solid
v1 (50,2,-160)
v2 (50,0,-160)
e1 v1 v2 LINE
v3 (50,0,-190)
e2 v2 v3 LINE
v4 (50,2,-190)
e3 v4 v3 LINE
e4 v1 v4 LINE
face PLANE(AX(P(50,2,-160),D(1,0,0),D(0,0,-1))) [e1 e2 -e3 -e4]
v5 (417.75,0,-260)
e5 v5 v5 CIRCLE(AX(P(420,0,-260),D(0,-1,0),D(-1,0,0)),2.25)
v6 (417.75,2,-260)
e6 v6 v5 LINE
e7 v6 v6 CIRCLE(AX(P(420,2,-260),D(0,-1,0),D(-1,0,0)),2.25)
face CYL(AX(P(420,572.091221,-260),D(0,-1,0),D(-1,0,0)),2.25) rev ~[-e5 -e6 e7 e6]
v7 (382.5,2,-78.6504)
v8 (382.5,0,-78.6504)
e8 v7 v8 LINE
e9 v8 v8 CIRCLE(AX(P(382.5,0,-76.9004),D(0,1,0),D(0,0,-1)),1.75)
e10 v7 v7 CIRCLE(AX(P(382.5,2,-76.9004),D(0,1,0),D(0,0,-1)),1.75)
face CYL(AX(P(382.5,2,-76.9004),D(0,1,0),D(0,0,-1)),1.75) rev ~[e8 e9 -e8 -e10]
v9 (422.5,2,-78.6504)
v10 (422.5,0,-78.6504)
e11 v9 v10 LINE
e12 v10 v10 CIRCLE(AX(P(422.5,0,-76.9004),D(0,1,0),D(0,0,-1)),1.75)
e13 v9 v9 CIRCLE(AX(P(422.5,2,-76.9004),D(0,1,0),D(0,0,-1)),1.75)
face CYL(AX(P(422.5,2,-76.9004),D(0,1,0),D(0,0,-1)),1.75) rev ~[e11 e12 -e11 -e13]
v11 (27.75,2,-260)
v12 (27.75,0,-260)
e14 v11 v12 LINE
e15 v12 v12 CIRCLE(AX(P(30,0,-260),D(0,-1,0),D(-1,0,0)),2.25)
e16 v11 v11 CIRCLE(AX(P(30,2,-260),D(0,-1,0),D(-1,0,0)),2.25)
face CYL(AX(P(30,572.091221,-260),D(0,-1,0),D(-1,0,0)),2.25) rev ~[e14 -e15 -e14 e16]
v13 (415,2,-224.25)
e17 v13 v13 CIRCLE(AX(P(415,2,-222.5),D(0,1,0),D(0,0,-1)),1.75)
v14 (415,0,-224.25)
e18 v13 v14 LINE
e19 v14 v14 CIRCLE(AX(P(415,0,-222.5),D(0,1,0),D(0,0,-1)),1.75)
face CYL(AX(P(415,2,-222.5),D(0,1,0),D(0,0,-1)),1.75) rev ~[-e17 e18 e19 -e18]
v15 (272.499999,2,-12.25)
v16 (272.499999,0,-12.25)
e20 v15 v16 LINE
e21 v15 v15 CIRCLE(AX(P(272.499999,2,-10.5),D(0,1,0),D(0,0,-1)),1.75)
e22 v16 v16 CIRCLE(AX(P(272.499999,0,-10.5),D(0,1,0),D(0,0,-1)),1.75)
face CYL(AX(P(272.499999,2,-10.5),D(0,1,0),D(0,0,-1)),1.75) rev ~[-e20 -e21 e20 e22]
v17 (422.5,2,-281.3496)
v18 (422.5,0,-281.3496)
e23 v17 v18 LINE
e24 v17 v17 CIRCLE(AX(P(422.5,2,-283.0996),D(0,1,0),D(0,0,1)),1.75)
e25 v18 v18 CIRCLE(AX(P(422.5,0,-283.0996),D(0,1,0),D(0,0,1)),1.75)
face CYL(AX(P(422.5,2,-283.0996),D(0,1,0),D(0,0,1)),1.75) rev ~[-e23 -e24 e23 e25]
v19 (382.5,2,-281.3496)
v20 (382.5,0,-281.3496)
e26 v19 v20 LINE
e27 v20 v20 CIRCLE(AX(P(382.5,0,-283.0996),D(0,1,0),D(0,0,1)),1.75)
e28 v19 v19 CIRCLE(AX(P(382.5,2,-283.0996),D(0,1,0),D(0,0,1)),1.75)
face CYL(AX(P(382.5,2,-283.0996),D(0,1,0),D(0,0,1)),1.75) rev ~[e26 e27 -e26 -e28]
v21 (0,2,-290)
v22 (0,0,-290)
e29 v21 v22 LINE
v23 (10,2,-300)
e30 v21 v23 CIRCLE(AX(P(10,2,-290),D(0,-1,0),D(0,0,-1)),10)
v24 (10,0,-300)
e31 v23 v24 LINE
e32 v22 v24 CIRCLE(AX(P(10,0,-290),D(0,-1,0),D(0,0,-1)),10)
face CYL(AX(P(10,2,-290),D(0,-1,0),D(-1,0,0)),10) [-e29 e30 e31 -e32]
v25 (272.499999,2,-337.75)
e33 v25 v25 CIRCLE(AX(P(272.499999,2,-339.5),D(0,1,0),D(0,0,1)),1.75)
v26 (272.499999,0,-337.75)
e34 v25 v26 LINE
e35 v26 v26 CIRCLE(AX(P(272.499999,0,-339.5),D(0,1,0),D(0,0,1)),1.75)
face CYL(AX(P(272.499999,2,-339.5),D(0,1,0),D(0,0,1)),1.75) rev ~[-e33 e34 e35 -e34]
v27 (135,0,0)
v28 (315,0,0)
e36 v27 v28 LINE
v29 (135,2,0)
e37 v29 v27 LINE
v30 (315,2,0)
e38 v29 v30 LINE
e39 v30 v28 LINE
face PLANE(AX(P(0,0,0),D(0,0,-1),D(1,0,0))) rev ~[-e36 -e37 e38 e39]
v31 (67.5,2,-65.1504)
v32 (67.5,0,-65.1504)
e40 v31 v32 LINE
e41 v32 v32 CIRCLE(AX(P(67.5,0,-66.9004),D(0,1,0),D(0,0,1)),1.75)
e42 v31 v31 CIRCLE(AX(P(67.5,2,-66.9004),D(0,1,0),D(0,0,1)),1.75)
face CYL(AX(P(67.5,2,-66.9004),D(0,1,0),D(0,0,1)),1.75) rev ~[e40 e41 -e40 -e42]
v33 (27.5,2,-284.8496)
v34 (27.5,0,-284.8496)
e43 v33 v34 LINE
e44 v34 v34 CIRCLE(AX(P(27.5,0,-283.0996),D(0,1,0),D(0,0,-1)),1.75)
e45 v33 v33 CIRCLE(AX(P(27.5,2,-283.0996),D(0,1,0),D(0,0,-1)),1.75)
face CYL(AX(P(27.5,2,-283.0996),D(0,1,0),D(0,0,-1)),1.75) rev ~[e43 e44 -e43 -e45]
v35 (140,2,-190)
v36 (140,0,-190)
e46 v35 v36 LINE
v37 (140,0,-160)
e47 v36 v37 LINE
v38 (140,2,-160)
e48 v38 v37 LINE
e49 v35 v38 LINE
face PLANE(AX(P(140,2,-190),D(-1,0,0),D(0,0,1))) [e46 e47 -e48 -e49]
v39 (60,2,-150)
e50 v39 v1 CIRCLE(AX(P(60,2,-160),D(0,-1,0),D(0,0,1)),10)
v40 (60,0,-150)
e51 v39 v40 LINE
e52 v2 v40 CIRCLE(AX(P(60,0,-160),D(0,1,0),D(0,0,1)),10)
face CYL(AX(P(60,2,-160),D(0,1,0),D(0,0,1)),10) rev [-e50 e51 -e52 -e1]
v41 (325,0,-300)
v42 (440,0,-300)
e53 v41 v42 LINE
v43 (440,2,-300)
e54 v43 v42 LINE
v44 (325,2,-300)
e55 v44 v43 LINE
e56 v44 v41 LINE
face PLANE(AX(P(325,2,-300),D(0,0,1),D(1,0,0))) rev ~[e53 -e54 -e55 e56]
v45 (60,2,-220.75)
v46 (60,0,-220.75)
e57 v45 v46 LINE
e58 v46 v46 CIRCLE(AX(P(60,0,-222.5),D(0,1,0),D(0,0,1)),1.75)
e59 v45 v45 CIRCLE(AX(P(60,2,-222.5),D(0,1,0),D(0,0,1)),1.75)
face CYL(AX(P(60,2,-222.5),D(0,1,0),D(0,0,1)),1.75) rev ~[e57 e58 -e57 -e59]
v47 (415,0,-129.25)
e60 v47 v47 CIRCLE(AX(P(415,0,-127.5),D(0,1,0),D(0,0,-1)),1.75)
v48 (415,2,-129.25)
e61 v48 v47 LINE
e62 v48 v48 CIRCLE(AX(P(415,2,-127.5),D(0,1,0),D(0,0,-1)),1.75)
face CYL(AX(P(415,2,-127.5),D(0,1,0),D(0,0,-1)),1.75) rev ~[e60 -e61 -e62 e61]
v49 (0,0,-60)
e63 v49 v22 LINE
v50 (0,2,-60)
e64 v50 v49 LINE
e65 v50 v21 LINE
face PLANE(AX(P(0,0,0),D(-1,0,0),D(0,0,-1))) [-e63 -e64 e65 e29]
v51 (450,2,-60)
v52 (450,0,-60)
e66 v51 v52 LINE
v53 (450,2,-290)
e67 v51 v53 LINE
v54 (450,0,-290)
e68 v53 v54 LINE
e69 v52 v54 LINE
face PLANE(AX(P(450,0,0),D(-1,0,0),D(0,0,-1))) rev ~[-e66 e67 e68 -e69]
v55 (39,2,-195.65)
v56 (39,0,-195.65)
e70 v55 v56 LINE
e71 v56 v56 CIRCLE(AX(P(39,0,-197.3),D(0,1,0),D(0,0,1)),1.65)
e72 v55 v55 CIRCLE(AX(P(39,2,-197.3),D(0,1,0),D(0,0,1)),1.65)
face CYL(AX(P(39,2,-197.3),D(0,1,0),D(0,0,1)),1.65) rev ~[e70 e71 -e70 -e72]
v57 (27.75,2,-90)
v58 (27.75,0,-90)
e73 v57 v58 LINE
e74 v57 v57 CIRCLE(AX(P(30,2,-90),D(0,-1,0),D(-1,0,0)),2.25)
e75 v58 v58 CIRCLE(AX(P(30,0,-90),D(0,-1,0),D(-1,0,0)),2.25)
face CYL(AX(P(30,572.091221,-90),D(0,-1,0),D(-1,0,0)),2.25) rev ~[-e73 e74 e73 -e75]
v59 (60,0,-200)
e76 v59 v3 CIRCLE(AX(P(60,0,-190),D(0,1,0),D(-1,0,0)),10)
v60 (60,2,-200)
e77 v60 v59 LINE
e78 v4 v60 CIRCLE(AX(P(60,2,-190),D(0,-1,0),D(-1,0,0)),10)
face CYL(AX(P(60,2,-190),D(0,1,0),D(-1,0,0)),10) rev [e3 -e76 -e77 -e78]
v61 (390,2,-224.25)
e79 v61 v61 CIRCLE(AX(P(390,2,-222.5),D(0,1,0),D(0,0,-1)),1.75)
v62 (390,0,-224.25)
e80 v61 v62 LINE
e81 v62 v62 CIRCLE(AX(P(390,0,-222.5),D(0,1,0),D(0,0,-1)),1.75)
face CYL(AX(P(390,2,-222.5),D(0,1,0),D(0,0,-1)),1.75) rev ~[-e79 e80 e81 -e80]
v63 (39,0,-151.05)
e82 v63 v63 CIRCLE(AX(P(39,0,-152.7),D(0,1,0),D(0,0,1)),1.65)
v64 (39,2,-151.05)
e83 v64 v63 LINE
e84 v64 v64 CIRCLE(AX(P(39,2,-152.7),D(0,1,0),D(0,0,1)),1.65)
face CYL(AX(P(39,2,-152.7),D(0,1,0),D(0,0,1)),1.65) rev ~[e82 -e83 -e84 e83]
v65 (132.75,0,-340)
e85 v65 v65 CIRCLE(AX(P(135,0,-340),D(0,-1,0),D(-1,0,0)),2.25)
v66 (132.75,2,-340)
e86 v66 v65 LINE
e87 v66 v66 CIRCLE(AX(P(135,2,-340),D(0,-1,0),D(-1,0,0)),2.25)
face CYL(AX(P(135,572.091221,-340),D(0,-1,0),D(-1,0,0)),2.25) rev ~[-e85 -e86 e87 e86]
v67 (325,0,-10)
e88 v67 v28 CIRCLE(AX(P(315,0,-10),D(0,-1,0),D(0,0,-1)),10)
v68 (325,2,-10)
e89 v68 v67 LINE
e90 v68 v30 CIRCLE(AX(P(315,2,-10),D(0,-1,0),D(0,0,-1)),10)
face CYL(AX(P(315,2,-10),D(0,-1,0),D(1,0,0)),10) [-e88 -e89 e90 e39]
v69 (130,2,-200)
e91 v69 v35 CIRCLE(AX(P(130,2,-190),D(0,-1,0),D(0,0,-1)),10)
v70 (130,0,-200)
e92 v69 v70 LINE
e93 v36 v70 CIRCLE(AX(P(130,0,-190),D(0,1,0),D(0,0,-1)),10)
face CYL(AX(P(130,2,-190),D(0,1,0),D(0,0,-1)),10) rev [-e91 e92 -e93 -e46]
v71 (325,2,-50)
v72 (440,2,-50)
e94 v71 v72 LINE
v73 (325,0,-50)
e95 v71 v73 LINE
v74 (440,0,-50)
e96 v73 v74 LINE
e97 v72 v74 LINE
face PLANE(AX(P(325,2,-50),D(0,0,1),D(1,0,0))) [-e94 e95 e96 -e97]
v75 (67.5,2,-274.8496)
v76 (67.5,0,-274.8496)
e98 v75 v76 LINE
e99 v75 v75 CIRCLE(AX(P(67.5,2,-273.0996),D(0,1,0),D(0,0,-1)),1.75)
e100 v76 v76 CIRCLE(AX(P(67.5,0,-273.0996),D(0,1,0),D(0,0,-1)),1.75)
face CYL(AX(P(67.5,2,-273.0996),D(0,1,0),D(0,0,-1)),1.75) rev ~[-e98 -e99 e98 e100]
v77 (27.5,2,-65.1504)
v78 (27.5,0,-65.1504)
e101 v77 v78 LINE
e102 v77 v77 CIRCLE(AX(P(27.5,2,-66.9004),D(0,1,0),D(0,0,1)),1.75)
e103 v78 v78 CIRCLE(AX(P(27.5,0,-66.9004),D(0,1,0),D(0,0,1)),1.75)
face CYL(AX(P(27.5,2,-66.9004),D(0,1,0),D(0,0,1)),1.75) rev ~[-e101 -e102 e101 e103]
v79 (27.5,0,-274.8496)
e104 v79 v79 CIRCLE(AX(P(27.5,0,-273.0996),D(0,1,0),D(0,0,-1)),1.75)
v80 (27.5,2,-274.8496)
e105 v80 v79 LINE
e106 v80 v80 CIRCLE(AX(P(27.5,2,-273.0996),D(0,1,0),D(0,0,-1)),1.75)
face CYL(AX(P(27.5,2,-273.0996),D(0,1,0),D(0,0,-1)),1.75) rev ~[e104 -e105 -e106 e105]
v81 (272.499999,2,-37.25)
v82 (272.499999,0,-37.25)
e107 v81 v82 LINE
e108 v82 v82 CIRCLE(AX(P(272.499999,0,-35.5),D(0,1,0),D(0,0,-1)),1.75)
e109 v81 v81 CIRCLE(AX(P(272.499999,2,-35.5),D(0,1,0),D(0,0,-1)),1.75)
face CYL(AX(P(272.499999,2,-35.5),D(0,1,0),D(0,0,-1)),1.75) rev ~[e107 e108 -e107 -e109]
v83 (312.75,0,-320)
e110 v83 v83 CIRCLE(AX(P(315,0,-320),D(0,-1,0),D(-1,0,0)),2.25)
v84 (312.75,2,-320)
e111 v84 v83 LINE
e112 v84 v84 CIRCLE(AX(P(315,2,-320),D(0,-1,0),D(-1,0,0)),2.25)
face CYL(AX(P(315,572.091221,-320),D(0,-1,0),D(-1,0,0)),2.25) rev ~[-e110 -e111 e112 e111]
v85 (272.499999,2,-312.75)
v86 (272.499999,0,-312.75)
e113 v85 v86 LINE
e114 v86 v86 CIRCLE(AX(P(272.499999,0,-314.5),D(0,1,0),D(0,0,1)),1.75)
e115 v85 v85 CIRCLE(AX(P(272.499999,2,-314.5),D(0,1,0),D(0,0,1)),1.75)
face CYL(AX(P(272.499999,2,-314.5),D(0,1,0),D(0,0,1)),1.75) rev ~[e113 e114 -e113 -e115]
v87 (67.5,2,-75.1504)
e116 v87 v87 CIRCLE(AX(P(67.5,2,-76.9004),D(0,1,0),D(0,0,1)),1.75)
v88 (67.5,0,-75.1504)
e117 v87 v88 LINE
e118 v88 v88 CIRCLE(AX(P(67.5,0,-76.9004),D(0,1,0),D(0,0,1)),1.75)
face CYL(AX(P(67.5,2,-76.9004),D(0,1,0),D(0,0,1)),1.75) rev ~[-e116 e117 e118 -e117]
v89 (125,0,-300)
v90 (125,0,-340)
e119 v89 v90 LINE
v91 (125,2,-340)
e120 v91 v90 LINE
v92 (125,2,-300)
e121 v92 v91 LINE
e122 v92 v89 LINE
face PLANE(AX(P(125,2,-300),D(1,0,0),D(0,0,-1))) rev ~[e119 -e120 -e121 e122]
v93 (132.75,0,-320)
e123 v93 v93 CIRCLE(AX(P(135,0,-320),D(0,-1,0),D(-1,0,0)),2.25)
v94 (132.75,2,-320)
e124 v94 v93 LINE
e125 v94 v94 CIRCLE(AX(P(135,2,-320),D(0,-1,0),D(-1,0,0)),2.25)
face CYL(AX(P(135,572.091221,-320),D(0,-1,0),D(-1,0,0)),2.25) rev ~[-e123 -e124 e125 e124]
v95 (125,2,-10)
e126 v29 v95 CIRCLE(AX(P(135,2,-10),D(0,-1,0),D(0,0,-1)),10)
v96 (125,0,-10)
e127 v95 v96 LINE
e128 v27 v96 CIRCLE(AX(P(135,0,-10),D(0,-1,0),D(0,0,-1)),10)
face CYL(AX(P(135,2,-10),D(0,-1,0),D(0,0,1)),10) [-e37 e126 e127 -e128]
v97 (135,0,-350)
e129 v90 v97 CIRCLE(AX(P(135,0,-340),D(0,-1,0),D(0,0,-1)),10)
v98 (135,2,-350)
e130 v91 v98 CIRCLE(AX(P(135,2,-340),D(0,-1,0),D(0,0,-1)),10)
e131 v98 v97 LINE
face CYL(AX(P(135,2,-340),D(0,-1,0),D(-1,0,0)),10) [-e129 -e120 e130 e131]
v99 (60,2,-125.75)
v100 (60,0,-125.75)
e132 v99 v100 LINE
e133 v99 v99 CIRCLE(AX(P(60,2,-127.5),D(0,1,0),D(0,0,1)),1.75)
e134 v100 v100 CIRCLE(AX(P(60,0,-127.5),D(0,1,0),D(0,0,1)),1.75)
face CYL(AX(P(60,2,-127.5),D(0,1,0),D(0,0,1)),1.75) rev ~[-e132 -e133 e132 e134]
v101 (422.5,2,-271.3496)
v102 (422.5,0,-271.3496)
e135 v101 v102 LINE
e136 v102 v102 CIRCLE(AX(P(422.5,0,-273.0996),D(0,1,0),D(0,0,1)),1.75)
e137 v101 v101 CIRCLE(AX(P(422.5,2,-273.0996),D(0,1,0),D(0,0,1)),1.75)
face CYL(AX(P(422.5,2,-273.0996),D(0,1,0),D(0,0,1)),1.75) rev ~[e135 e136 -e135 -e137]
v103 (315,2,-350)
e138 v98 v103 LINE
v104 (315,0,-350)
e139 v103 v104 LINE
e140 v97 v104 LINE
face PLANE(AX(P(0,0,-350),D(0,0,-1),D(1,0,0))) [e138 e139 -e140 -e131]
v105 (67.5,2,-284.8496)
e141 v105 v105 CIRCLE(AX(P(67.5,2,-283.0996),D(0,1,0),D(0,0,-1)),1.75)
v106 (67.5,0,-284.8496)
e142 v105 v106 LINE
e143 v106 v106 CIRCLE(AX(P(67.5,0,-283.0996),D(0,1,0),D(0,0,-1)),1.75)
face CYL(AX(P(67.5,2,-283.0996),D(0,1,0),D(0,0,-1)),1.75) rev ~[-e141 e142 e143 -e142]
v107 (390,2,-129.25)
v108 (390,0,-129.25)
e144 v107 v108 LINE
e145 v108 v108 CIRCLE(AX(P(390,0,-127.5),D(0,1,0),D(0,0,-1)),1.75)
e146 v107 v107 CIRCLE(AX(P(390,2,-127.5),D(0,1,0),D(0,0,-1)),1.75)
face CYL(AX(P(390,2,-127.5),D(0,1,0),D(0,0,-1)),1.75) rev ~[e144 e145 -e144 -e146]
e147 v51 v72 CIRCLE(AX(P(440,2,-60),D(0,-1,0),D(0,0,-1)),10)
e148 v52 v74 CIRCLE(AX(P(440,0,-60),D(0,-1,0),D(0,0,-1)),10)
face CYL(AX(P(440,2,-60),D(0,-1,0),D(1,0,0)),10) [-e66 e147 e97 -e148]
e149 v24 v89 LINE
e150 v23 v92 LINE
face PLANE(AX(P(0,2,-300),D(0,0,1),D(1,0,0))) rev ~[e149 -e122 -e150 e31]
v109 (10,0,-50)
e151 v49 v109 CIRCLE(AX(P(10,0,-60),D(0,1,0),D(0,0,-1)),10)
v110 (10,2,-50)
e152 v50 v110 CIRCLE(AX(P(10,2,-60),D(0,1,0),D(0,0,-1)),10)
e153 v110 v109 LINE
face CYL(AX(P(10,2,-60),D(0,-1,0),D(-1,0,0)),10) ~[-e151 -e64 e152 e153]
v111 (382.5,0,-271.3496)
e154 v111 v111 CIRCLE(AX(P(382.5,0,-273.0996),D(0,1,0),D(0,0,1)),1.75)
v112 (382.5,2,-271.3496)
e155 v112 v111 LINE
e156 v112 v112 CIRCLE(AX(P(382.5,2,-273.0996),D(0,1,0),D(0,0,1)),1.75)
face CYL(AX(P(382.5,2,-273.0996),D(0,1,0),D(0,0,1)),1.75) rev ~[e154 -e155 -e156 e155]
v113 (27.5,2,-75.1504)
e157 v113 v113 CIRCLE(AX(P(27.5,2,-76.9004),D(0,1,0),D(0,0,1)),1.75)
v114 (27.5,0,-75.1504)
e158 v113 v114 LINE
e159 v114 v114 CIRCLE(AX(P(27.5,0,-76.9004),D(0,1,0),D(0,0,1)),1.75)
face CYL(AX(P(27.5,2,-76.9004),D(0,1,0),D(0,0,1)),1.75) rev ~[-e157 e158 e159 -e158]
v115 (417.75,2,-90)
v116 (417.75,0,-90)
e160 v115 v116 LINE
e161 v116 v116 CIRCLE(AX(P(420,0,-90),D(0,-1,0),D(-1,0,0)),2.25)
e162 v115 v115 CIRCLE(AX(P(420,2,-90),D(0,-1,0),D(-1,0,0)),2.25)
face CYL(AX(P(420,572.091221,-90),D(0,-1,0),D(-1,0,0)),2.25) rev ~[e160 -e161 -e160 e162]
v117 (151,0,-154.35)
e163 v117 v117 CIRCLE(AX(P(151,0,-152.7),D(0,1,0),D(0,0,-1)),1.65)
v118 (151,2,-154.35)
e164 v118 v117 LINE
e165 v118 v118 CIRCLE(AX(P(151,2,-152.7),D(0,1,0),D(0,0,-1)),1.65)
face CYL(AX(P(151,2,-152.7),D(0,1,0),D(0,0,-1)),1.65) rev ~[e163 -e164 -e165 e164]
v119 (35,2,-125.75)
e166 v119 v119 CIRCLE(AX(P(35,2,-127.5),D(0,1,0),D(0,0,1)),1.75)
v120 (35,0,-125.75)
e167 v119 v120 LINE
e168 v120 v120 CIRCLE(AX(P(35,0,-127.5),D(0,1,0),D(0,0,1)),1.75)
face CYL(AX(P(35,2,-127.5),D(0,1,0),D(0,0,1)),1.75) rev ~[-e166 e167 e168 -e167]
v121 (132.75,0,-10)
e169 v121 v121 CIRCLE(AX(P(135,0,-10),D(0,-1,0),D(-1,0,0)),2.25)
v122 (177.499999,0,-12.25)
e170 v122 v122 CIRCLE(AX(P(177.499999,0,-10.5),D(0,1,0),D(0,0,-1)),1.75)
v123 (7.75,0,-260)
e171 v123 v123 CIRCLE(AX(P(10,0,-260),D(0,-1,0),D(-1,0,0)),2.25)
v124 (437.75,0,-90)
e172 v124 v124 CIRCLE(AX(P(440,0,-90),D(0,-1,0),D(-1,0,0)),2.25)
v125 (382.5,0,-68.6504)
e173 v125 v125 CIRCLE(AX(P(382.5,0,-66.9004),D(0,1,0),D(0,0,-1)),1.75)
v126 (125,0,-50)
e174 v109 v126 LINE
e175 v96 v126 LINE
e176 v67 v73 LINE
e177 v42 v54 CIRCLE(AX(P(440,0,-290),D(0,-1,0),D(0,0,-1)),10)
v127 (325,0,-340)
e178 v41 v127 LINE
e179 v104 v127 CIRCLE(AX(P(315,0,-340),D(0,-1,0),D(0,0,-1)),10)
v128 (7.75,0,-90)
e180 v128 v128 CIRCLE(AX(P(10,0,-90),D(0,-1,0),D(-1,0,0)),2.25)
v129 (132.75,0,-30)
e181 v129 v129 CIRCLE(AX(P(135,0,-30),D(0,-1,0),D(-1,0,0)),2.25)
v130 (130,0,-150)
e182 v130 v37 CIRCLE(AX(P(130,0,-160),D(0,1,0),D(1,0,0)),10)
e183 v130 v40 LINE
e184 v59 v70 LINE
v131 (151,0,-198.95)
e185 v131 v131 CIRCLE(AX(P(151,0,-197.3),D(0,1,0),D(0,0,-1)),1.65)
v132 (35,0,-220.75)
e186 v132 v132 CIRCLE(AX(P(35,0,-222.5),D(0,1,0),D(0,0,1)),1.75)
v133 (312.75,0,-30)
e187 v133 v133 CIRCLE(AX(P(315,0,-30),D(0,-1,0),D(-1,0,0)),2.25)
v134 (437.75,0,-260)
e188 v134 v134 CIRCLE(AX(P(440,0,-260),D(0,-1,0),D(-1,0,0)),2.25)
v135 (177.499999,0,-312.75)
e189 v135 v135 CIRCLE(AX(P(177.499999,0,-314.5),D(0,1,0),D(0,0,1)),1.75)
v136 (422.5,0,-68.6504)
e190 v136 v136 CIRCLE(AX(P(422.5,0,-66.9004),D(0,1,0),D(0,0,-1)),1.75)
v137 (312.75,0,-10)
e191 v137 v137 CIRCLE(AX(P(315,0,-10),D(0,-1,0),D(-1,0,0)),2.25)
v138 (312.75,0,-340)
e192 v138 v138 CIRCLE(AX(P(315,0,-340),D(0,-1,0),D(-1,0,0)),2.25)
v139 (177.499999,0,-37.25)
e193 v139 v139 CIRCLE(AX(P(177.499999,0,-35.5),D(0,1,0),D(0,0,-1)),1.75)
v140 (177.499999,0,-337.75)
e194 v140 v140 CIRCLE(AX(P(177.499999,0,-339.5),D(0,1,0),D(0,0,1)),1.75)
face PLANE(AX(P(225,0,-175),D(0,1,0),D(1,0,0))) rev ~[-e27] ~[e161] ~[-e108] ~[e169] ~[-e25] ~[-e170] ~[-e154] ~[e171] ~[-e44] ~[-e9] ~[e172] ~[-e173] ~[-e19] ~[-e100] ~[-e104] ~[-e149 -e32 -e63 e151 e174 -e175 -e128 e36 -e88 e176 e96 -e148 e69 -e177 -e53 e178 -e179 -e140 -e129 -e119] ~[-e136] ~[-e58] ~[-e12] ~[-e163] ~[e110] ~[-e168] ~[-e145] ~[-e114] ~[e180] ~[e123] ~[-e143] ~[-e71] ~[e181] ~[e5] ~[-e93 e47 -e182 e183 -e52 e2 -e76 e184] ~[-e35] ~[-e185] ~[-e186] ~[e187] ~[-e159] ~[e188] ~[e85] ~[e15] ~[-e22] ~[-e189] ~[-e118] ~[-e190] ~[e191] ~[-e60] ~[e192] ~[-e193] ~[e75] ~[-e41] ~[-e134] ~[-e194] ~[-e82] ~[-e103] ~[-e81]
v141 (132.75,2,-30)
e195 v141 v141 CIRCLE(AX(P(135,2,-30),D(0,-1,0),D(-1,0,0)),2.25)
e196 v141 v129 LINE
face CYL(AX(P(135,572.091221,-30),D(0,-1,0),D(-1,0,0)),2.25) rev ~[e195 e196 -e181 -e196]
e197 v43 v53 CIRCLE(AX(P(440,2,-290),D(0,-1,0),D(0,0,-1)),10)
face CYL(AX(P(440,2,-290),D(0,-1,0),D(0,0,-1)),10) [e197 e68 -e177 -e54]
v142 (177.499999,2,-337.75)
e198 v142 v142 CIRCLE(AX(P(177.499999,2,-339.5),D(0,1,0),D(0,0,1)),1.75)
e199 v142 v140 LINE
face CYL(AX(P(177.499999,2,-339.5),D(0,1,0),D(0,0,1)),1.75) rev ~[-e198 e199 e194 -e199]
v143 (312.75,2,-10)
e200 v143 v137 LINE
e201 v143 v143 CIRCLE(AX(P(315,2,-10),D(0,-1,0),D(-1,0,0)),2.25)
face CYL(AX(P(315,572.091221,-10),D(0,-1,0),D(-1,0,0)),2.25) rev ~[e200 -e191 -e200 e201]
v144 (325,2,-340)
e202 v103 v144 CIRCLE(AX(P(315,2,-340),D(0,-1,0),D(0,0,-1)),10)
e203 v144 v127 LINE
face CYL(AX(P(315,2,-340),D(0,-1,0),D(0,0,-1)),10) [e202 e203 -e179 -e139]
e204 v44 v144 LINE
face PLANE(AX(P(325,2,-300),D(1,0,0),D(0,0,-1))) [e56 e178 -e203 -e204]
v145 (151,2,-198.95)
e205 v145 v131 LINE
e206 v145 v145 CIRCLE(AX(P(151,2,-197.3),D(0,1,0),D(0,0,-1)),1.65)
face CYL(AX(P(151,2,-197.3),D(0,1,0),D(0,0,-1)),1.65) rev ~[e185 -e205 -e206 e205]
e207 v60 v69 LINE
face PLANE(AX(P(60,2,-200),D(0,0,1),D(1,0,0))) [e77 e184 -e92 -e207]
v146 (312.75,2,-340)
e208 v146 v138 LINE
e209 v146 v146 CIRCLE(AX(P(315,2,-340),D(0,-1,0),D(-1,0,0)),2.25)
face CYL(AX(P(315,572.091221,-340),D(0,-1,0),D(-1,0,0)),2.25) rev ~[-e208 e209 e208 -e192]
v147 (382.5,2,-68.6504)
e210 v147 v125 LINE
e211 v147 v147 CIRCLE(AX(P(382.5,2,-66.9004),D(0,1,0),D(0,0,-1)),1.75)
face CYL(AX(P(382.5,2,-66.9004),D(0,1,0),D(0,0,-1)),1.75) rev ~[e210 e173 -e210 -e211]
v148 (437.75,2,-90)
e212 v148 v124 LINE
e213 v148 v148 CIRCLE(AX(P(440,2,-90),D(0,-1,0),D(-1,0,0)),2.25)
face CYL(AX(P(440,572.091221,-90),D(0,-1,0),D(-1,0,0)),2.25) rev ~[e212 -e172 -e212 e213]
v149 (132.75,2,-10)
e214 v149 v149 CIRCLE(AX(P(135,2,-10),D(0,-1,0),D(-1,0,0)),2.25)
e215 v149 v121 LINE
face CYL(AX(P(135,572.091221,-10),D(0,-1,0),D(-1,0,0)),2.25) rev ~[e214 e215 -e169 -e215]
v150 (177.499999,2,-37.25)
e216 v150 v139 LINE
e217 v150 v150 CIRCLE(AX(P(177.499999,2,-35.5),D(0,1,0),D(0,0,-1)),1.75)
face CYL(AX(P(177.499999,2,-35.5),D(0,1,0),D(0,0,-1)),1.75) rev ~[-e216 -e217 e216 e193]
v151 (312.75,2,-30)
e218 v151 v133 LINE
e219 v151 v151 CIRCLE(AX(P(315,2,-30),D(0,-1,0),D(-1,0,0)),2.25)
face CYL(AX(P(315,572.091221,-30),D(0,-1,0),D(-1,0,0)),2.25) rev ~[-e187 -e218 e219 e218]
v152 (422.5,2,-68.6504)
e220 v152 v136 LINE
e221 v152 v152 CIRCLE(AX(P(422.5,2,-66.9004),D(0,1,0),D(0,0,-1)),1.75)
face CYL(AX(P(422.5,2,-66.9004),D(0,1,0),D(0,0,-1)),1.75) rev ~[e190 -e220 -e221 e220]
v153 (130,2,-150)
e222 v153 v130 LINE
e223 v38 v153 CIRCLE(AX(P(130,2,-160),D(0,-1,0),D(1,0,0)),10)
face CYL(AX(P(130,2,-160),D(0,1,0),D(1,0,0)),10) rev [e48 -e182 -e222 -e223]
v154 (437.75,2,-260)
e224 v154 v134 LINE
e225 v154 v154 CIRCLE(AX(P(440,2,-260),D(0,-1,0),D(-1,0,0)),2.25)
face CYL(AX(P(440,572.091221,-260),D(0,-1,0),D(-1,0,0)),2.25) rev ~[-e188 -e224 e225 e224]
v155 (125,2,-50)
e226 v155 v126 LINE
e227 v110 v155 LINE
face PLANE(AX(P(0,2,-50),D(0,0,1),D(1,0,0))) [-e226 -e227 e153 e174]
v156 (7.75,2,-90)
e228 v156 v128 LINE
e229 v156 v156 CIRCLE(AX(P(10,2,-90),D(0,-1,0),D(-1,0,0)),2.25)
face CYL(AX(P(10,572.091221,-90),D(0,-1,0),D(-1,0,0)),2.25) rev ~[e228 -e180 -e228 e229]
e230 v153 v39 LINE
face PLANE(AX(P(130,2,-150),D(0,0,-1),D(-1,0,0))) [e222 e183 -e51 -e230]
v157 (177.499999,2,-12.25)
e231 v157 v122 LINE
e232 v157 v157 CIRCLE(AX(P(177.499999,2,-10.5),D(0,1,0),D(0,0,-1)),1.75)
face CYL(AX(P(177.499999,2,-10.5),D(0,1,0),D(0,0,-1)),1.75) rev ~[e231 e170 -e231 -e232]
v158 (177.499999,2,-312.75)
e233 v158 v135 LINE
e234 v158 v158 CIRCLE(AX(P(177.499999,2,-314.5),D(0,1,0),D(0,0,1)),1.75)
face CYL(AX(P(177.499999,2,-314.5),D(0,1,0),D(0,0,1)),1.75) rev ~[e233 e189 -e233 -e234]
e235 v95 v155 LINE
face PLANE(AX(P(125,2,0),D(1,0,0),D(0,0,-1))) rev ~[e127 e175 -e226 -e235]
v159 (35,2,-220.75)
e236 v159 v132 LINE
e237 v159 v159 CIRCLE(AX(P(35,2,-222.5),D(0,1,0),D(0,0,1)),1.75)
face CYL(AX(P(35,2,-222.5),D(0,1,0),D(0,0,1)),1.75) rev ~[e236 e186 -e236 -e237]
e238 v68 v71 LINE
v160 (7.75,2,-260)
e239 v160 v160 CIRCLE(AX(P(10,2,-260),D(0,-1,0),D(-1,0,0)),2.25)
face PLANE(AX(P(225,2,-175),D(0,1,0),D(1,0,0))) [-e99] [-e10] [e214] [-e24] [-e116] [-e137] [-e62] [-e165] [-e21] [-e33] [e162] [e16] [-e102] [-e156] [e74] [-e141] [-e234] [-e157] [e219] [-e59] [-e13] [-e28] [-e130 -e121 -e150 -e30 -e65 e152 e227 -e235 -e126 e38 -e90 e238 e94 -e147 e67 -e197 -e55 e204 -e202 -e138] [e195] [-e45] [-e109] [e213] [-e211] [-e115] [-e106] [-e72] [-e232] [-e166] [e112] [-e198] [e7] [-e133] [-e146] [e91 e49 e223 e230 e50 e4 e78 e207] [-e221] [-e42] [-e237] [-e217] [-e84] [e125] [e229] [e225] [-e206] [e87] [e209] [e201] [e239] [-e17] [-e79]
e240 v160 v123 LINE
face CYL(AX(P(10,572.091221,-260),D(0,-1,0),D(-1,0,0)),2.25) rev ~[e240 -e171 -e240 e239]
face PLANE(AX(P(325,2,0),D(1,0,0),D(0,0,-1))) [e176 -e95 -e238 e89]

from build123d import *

# Parameters (mm, degrees)
SKETCH5_W            = 450
SKETCH5_H            = 350
BOSS_EXTRUDE1_DEPTH  = 2
FILLET1_R            = 10
CUT_EXTRUDE1_DEPTH   = 571.091220771
M4_CLEARANCE_HOLE1_D = 4.5
SKETCH13_R           = 1.75
CUT_EXTRUDE2_DEPTH   = 571.091220771
SKETCH14_R           = 1.75
CUT_EXTRUDE3_DEPTH   = 571.091220771
SKETCH15_W           = 125
SKETCH15_H           = 50
CUT_EXTRUDE4_DEPTH   = 571.091220771
FILLET2_R            = 10
SKETCH16_R           = 1.65
CUT_EXTRUDE5_DEPTH   = 571.091220771


with BuildPart() as part:
    # Sketch5 → Boss-Extrude1 (new body)
    with BuildSketch(Plane(origin=(0, 0, 0), x_dir=(1, 0, 0), z_dir=(0, 1, 0))):
        with Locations((225, 175)):
            Rectangle(SKETCH5_W, SKETCH5_H)
    extrude(amount=BOSS_EXTRUDE1_DEPTH)

    # Fillet1
    fillet1_edges = [part.edges().sort_by_distance(p)[0] for p in [
        (0, 1, 0),
        (0, 1, -350),
        (450, 1, -350),
        (450, 1, 0),
    ]]
    fillet(fillet1_edges, radius=FILLET1_R)

    # Sketch6 → Cut-Extrude1 (cut, through all)
    with BuildSketch(Plane(origin=(0, 2, 0), x_dir=(1, 0, 0), z_dir=(0, 1, 0))):
        with BuildLine():
            Line((140, 190), (140, 160))
            ThreePointArc((140, 160), (137.071067812, 152.928932188), (130, 150))
            Line((130, 150), (60, 150))
            ThreePointArc((60, 150), (52.928932188, 152.928932188), (50, 160))
            Line((50, 160), (50, 190))
            ThreePointArc((50, 190), (52.928932188, 197.071067812), (60, 200))
            Line((60, 200), (130, 200))
            ThreePointArc((130, 200), (137.071067812, 197.071067812), (140, 190))
        make_face()
    extrude(amount=-CUT_EXTRUDE1_DEPTH, mode=Mode.SUBTRACT)

    # M4 Clearance Hole1 (through all)
    with Locations(Plane(origin=(0, 2, 0), x_dir=(1, 0, 0), z_dir=(0, 1, 0))):
        with Locations((135, 10), (135, 30), (10, 90), (30, 90), (315, 10), (315, 30), (420, 90), (440, 90), (440, 260), (420, 260), (315, 340), (315, 320), (135, 340), (135, 320), (30, 260), (10, 260)):
            Hole(M4_CLEARANCE_HOLE1_D / 2)

    # Sketch13 → Cut-Extrude2 (cut, through all)
    with BuildSketch(Plane(origin=(0, 2, 0), x_dir=(1, 0, 0), z_dir=(0, 1, 0))):
        with Locations(Location((272.499999169, 35.5, 0), (0, 0, 90))):
            Circle(SKETCH13_R)
        with Locations(Location((272.499999169, 10.5, 0), (0, 0, 90))):
            Circle(SKETCH13_R)
        with Locations(Location((177.499999169, 35.5, 0), (0, 0, 90))):
            Circle(SKETCH13_R)
        with Locations(Location((177.499999169, 10.5, 0), (0, 0, 90))):
            Circle(SKETCH13_R)
        with Locations(Location((35, 222.5, 0), (0, 0, 270))):
            Circle(SKETCH13_R)
        with Locations(Location((60, 222.5, 0), (0, 0, 270))):
            Circle(SKETCH13_R)
        with Locations(Location((60, 127.5, 0), (0, 0, 270))):
            Circle(SKETCH13_R)
        with Locations(Location((35, 127.5, 0), (0, 0, 270))):
            Circle(SKETCH13_R)
        with Locations(Location((177.499999169, 339.5, 0), (0, 0, 270))):
            Circle(SKETCH13_R)
        with Locations(Location((272.499999169, 339.5, 0), (0, 0, 270))):
            Circle(SKETCH13_R)
        with Locations(Location((272.499999169, 314.5, 0), (0, 0, 270))):
            Circle(SKETCH13_R)
        with Locations(Location((177.499999169, 314.5, 0), (0, 0, 270))):
            Circle(SKETCH13_R)
        with Locations(Location((415, 127.5, 0), (0, 0, 90))):
            Circle(SKETCH13_R)
        with Locations(Location((390, 127.5, 0), (0, 0, 90))):
            Circle(SKETCH13_R)
        with Locations(Location((390, 222.5, 0), (0, 0, 90))):
            Circle(SKETCH13_R)
        with Locations(Location((415, 222.5, 0), (0, 0, 90))):
            Circle(SKETCH13_R)
    extrude(amount=-CUT_EXTRUDE2_DEPTH, mode=Mode.SUBTRACT)

    # Sketch14 → Cut-Extrude3 (cut, through all)
    with BuildSketch(Plane(origin=(0, 2, 0), x_dir=(1, 0, 0), z_dir=(0, 1, 0))):
        with Locations(Location((27.5, 76.9004, 0), (0, 0, 270))):
            Circle(SKETCH14_R)
        with Locations(Location((67.5, 76.9004, 0), (0, 0, 270))):
            Circle(SKETCH14_R)
        with Locations(Location((67.5, 66.9004, 0), (0, 0, 270))):
            Circle(SKETCH14_R)
        with Locations(Location((27.5, 66.9004, 0), (0, 0, 270))):
            Circle(SKETCH14_R)
        with Locations(Location((67.5, 283.0996, 0), (0, 0, 90))):
            Circle(SKETCH14_R)
        with Locations(Location((67.5, 273.0996, 0), (0, 0, 90))):
            Circle(SKETCH14_R)
        with Locations(Location((27.5, 283.0996, 0), (0, 0, 90))):
            Circle(SKETCH14_R)
        with Locations(Location((27.5, 273.0996, 0), (0, 0, 90))):
            Circle(SKETCH14_R)
        with Locations(Location((382.5, 273.0996, 0), (0, 0, 270))):
            Circle(SKETCH14_R)
        with Locations(Location((382.5, 283.0996, 0), (0, 0, 270))):
            Circle(SKETCH14_R)
        with Locations(Location((422.5, 283.0996, 0), (0, 0, 270))):
            Circle(SKETCH14_R)
        with Locations(Location((422.5, 273.0996, 0), (0, 0, 270))):
            Circle(SKETCH14_R)
        with Locations(Location((422.5, 66.9004, 0), (0, 0, 90))):
            Circle(SKETCH14_R)
        with Locations(Location((382.5, 66.9004, 0), (0, 0, 90))):
            Circle(SKETCH14_R)
        with Locations(Location((382.5, 76.9004, 0), (0, 0, 90))):
            Circle(SKETCH14_R)
        with Locations(Location((422.5, 76.9004, 0), (0, 0, 90))):
            Circle(SKETCH14_R)
    extrude(amount=-CUT_EXTRUDE3_DEPTH, mode=Mode.SUBTRACT)

    # Sketch15 → Cut-Extrude4 (cut, through all)
    with BuildSketch(Plane(origin=(0, 2, 0), x_dir=(1, 0, 0), z_dir=(0, 1, 0))):
        with Locations((62.5, 325)):
            Rectangle(SKETCH15_W, SKETCH15_H)
        with Locations((62.5, 25)):
            Rectangle(SKETCH15_W, SKETCH15_H)
        with Locations((387.5, 25)):
            Rectangle(SKETCH15_W, SKETCH15_H)
        with Locations((387.5, 325)):
            Rectangle(SKETCH15_W, SKETCH15_H)
    extrude(amount=-CUT_EXTRUDE4_DEPTH, mode=Mode.SUBTRACT)

    # Fillet2
    fillet2_edges = [part.edges().sort_by_distance(p)[0] for p in [
        (325, 1, -350),
        (450, 1, -300),
        (450, 1, -50),
        (325, 1, 0),
        (125, 1, 0),
        (0, 1, -50),
        (0, 1, -300),
        (125, 1, -350),
    ]]
    fillet(fillet2_edges, radius=FILLET2_R)

    # Sketch16 → Cut-Extrude5 (cut, through all)
    with BuildSketch(Plane(origin=(0, 2, 0), x_dir=(1, 0, 0), z_dir=(0, 1, 0))):
        with Locations(Location((39, 197.3, 0), (0, 0, 270))):
            Circle(SKETCH16_R)
        with Locations(Location((39, 152.7, 0), (0, 0, 270))):
            Circle(SKETCH16_R)
        with Locations(Location((151, 152.7, 0), (0, 0, 90))):
            Circle(SKETCH16_R)
        with Locations(Location((151, 197.3, 0), (0, 0, 90))):
            Circle(SKETCH16_R)
    extrude(amount=-CUT_EXTRUDE5_DEPTH, mode=Mode.SUBTRACT)


solid = part.part
